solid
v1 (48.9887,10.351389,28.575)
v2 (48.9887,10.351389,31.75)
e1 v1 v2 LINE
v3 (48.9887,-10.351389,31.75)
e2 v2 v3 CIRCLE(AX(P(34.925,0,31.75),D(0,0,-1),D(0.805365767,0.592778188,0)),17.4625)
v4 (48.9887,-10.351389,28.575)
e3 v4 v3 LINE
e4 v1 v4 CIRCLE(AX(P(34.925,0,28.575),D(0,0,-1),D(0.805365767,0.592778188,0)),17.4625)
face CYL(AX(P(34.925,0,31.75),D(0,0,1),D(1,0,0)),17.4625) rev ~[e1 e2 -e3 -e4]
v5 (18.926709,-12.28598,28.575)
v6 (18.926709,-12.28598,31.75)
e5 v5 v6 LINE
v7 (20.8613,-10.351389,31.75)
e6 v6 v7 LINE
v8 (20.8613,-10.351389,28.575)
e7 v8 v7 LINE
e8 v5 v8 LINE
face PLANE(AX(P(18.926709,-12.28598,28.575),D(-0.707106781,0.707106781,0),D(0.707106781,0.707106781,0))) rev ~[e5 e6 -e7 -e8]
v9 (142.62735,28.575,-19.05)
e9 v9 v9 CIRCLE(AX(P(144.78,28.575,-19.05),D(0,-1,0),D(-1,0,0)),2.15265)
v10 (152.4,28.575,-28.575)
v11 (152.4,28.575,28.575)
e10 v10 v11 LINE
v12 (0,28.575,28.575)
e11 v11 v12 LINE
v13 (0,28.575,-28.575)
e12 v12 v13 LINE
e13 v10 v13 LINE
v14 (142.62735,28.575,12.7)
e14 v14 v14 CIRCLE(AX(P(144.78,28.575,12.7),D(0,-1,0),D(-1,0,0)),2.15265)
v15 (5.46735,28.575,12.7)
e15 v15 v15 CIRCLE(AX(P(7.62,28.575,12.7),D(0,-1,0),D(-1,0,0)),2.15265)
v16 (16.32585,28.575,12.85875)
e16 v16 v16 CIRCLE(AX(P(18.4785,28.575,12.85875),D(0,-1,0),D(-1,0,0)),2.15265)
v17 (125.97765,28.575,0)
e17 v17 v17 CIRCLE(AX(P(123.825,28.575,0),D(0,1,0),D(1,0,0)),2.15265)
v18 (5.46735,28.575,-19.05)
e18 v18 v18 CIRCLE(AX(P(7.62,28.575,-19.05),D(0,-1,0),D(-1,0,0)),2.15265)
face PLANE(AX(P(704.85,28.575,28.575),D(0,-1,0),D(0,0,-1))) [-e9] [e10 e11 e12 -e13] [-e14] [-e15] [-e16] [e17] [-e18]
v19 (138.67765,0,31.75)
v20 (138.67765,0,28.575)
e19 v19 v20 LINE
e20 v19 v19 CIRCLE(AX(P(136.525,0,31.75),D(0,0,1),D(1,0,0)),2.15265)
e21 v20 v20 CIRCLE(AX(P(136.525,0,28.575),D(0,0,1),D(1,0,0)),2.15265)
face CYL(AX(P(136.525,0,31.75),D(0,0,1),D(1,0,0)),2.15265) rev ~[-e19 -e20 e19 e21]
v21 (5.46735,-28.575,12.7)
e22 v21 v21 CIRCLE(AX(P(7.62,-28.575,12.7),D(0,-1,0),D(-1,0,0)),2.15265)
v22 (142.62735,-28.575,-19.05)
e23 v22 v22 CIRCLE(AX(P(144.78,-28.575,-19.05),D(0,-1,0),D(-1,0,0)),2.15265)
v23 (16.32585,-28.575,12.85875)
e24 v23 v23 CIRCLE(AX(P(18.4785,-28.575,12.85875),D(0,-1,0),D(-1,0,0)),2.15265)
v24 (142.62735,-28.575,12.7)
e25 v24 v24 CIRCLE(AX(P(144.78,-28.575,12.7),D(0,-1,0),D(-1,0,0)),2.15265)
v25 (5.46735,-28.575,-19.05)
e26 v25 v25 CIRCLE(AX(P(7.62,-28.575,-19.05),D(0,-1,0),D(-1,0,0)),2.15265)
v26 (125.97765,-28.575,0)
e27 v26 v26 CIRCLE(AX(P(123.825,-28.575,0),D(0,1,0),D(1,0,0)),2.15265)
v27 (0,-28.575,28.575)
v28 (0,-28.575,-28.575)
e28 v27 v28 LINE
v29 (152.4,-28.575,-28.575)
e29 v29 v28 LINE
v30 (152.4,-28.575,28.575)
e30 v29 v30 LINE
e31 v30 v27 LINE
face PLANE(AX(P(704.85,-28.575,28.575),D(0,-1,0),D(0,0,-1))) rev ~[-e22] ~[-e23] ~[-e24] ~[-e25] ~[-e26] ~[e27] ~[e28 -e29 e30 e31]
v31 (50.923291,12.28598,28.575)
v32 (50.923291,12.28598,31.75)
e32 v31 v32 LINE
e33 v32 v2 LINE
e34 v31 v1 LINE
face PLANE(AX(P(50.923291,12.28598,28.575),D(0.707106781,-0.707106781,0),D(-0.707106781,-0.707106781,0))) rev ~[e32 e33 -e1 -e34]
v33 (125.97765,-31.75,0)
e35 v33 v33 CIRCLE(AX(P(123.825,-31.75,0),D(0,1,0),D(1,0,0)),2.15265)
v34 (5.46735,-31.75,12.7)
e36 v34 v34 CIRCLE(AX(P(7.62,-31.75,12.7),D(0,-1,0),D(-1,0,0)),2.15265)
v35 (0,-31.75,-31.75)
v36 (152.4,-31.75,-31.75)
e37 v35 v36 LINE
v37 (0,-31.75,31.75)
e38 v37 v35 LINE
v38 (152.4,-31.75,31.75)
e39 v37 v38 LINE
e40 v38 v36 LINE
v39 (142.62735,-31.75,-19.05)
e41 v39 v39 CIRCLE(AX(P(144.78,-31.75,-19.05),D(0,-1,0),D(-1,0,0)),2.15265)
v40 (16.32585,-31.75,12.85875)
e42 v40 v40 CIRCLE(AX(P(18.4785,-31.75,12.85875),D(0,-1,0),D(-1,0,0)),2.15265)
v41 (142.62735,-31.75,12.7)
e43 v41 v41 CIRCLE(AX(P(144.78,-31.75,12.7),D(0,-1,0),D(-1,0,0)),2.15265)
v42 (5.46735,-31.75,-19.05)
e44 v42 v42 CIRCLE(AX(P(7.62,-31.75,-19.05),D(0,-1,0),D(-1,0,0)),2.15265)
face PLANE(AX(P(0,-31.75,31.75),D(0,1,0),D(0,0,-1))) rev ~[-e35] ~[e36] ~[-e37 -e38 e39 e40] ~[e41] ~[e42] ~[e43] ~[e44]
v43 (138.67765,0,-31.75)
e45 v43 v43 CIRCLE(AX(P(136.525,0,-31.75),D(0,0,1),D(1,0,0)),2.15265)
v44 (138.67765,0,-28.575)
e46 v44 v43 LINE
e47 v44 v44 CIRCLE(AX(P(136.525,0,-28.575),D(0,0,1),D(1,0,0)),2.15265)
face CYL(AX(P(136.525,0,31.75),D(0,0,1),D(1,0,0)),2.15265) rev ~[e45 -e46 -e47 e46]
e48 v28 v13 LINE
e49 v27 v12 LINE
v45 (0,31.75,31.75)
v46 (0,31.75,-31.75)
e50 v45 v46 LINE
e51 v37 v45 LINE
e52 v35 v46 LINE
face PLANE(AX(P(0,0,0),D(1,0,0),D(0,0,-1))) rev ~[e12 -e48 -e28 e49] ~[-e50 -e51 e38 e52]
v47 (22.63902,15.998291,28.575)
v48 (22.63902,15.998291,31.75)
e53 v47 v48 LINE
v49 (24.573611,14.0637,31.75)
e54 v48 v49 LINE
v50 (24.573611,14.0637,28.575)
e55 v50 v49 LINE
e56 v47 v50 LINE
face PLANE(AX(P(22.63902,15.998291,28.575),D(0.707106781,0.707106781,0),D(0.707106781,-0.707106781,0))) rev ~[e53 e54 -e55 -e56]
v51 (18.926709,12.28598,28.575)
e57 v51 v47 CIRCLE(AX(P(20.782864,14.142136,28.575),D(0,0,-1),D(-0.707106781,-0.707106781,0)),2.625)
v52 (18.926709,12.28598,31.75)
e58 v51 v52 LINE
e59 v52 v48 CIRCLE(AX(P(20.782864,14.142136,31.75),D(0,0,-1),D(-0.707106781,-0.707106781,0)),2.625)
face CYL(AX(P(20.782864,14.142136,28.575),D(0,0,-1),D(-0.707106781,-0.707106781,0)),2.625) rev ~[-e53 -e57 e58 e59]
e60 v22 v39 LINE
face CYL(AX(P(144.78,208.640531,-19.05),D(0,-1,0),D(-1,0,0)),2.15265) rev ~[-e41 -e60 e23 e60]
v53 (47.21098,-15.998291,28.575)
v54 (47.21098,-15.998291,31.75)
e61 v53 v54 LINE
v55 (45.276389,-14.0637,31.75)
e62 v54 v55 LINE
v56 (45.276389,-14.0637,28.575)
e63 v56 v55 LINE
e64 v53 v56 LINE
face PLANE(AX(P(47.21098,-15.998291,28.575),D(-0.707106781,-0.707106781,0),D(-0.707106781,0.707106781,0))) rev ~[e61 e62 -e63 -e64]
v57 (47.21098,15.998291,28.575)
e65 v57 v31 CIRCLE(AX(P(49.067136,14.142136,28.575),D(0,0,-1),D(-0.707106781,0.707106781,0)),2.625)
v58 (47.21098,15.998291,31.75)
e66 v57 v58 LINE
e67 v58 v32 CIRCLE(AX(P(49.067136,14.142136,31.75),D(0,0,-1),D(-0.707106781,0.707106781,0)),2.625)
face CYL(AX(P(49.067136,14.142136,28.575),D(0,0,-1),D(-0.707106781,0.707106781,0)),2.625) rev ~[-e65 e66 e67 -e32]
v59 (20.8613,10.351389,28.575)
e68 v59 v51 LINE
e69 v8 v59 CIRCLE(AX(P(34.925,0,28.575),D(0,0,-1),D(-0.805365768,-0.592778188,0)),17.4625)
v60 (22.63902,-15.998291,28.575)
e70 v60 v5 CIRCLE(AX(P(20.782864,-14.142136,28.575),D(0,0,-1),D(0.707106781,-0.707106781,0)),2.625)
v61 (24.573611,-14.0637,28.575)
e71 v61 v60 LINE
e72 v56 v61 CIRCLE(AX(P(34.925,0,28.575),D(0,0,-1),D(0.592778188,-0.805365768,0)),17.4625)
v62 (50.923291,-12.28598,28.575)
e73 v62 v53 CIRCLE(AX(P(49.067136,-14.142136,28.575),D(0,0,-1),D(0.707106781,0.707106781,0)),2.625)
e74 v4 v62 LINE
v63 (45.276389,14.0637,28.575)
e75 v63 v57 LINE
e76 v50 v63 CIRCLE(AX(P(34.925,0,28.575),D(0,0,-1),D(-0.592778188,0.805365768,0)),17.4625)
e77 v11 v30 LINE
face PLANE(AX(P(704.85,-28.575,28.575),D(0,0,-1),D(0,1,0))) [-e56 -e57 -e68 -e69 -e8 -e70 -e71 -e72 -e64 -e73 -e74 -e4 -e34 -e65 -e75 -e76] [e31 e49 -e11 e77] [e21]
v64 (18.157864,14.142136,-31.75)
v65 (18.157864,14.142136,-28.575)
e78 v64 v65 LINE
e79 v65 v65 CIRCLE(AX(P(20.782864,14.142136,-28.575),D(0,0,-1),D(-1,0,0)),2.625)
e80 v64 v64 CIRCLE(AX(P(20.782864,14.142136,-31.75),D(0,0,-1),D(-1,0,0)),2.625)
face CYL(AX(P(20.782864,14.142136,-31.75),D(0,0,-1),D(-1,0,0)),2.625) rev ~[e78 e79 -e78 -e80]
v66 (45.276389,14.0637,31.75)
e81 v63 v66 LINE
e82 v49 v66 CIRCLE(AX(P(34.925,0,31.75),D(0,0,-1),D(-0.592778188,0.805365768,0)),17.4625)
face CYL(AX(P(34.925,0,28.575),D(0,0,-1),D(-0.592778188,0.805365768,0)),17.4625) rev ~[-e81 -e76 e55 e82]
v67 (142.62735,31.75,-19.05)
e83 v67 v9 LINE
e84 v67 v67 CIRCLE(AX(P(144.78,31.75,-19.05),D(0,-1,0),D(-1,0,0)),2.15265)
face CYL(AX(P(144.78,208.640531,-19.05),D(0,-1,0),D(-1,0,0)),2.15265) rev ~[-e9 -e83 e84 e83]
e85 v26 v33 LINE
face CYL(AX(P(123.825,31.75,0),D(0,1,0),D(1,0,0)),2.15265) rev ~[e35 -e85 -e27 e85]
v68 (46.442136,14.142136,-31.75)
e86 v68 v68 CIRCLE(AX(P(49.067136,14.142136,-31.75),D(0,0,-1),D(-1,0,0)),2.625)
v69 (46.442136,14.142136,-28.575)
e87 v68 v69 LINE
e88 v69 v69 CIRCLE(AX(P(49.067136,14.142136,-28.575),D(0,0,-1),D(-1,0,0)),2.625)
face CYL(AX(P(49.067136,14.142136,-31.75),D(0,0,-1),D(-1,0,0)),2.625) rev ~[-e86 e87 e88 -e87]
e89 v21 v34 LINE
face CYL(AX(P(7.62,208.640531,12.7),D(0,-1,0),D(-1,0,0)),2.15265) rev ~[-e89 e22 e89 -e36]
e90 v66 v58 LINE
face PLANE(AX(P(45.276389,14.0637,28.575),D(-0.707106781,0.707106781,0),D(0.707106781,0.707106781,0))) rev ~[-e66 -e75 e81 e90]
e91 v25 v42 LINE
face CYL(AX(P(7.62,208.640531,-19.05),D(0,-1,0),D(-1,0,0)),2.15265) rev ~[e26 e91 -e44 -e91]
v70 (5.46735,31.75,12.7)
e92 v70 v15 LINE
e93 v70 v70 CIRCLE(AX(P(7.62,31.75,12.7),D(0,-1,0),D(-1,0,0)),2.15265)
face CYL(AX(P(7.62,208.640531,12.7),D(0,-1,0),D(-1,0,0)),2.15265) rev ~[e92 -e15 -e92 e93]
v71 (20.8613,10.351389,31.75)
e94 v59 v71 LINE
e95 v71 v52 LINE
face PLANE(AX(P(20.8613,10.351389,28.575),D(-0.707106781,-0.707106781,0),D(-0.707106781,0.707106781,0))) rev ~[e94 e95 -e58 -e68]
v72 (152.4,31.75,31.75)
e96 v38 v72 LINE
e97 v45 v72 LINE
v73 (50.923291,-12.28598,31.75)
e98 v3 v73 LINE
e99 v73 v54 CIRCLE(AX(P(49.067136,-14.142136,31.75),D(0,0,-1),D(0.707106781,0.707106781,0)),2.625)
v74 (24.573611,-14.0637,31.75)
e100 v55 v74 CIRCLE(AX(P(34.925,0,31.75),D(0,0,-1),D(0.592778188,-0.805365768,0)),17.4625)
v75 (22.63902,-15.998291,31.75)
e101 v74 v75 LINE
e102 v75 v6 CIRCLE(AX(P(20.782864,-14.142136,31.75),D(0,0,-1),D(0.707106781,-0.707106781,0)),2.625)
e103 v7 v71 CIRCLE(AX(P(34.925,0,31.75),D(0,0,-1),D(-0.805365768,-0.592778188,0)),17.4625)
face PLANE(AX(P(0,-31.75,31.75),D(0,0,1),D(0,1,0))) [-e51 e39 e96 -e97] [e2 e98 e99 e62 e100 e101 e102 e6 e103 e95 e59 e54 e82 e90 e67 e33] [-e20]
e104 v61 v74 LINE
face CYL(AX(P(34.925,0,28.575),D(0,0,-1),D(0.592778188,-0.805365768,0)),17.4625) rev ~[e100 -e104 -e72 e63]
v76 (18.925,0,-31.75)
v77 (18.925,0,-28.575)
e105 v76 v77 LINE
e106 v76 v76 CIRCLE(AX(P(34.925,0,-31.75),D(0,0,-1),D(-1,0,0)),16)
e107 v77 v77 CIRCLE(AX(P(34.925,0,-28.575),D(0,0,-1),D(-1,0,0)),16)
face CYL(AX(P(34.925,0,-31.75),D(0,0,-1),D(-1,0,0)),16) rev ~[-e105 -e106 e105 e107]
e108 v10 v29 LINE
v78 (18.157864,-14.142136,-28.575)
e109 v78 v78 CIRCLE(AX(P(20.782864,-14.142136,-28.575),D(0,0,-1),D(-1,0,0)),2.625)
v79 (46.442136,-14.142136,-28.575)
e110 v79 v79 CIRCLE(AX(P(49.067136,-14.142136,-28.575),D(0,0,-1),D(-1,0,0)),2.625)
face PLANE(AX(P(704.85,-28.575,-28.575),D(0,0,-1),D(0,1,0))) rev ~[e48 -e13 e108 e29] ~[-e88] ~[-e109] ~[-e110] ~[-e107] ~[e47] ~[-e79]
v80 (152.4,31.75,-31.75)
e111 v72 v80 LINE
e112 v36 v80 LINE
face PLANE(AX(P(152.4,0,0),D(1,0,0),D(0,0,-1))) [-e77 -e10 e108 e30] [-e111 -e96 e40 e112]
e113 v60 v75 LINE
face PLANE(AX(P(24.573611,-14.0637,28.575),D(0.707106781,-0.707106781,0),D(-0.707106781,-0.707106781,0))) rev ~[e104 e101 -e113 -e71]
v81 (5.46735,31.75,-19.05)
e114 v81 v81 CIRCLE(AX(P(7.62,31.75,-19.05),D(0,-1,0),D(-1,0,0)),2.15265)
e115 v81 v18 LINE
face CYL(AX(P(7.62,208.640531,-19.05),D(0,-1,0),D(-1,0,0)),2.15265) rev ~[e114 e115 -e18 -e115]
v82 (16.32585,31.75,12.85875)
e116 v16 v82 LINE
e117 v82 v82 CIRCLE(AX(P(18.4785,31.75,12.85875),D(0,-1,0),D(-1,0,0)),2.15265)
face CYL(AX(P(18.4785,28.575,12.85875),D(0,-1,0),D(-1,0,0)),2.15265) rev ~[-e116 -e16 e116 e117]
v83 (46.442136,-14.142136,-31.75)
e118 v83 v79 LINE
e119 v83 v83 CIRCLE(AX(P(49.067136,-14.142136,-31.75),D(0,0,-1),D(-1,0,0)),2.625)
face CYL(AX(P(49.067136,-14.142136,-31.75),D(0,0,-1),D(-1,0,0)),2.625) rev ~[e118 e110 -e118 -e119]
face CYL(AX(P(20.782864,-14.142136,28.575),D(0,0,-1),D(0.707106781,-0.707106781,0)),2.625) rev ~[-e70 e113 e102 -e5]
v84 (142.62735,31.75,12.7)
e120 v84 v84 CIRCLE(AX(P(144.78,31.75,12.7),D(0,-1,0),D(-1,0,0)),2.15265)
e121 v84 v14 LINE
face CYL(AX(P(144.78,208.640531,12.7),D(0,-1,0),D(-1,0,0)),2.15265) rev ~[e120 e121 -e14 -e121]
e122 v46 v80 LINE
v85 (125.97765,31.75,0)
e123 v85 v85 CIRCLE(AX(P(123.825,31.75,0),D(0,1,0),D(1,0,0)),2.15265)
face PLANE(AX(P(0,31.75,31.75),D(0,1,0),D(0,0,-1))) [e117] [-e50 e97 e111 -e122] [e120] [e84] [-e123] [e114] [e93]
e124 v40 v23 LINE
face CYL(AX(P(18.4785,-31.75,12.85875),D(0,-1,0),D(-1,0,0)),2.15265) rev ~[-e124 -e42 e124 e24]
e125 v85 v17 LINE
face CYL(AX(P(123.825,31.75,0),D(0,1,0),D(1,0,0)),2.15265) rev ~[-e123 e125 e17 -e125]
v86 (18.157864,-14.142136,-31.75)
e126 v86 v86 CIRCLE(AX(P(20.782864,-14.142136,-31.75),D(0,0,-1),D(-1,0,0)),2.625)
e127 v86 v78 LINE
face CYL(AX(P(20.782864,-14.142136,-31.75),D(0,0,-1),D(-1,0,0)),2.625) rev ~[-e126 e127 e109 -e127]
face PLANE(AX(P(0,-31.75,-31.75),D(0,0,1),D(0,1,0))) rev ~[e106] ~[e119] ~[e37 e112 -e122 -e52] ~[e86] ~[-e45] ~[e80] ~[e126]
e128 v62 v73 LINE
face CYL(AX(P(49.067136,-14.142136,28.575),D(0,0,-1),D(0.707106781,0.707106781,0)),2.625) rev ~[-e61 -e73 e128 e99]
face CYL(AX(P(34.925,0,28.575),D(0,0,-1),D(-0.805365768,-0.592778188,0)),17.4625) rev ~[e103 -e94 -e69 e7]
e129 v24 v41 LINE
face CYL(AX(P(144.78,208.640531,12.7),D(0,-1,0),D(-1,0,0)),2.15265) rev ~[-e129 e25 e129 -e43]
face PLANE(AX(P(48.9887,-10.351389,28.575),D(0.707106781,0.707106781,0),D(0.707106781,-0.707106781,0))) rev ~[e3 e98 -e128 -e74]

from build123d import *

# Parameters (mm, degrees)
SKETCH1_W             = 63.5
SKETCH1_H             = 63.5
BOSS_EXTRUDE1_DEPTH   = 704.85
SKETCH2_W             = 57.15
SKETCH2_H             = 57.15
CUT_EXTRUDE1_DEPTH    = 705.85
CUT_EXTRUDE2_REACH    = 65.5
SKETCH3_R             = 17.4625
SKETCH8_R             = 2.15265
CUT_EXTRUDE6_DEPTH    = 64.5
SKETCH10_R            = 2.15265
CUT_EXTRUDE7_DEPTH    = 64.5
CUT_EXTRUDE9_REACH    = 65.5
SKETCH13_R            = 16
SKETCH14_R            = 2.625
SKETCH14_R_2          = 16
CUT_EXTRUDE10_DEPTH   = 3.175
CUT_EXTRUDE11_START   = -3.175
CUT_EXTRUDE11_DEPTH   = 3.175
CUT_EXTRUDE13_REACH   = 65.5
SKETCH17_W            = 19.05
SKETCH17_H            = 25.4
SKETCH18_W            = 63.5
SKETCH18_H            = 63.5
CUT_EXTRUDE14_DEPTH   = 552.45
F_8_CLEARANCE_HOLE1_D = 4.3053
SKETCH21_R            = 2.15265
CUT_EXTRUDE15_DEPTH   = 6.35
SKETCH23_R            = 2.15265
CUT_EXTRUDE16_DEPTH   = 13.97


with BuildPart() as part:
    # Sketch1 → Boss-Extrude1 (new body)
    with BuildSketch(Plane(origin=(0, 0, 0), x_dir=(0, 0, -1), z_dir=(1, 0, 0))):
        Rectangle(SKETCH1_W, SKETCH1_H)
    extrude(amount=BOSS_EXTRUDE1_DEPTH)

    # Sketch2 → Cut-Extrude1 (cut, through all)
    with BuildSketch(Plane(origin=(704.85, 0, 0), x_dir=(0, 0, -1), z_dir=(1, 0, 0))):
        Rectangle(SKETCH2_W, SKETCH2_H)
    extrude(amount=-CUT_EXTRUDE1_DEPTH, mode=Mode.SUBTRACT)

    # Sketch3 → Cut-Extrude2 (cut, up to next)
    with BuildSketch(Plane.XY.offset(31.75), mode=Mode.PRIVATE) as cut_extrude2_sk1:
        with Locations((352.425, 0)):
            Circle(SKETCH3_R)
    cut_extrude2_tool1 = extrude(cut_extrude2_sk1.sketch, amount=-CUT_EXTRUDE2_REACH, mode=Mode.PRIVATE) & part.part
    add(cut_extrude2_tool1.solids().sort_by_distance((352.425, 0, 31.75))[0], mode=Mode.SUBTRACT)
    # Sketch3 → Cut-Extrude2 (cut, up to next)
    with BuildSketch(Plane.XY.offset(31.75), mode=Mode.PRIVATE) as cut_extrude2_sk2:
        with Locations((34.925, 0)):
            Circle(SKETCH3_R)
    cut_extrude2_tool2 = extrude(cut_extrude2_sk2.sketch, amount=-CUT_EXTRUDE2_REACH, mode=Mode.PRIVATE) & part.part
    add(cut_extrude2_tool2.solids().sort_by_distance((34.925, 0, 31.75))[0], mode=Mode.SUBTRACT)
    # Sketch3 → Cut-Extrude2 (cut, up to next)
    with BuildSketch(Plane.XY.offset(31.75), mode=Mode.PRIVATE) as cut_extrude2_sk3:
        with Locations((669.925, 0)):
            Circle(SKETCH3_R)
    cut_extrude2_tool3 = extrude(cut_extrude2_sk3.sketch, amount=-CUT_EXTRUDE2_REACH, mode=Mode.PRIVATE) & part.part
    add(cut_extrude2_tool3.solids().sort_by_distance((669.925, 0, 31.75))[0], mode=Mode.SUBTRACT)

    # Sketch8 → Cut-Extrude6 (cut, through all)
    with BuildSketch(Plane(origin=(0, 31.75, 0), x_dir=(1, 0, 0), z_dir=(0, 1, 0))):
        with Locations((466.725, 0)):
            Circle(SKETCH8_R)
        with Locations((123.825, 0)):
            Circle(SKETCH8_R)
        with Locations((581.025, 0)):
            Circle(SKETCH8_R)
        with Locations((238.125, 0)):
            Circle(SKETCH8_R)
    extrude(amount=-CUT_EXTRUDE6_DEPTH, mode=Mode.SUBTRACT)

    # Sketch10 → Cut-Extrude7 (cut, through all)
    with BuildSketch(Plane.XY.offset(31.75)):
        with Locations((225.425, 0)):
            Circle(SKETCH10_R)
        with Locations((568.325, 0)):
            Circle(SKETCH10_R)
        with Locations((136.525, 0)):
            Circle(SKETCH10_R)
        with Locations((479.425, 0)):
            Circle(SKETCH10_R)
    extrude(amount=-CUT_EXTRUDE7_DEPTH, mode=Mode.SUBTRACT)

    # Sketch13 → Cut-Extrude9 (cut, up to next)
    with BuildSketch(Plane(origin=(0, 0, -31.75), x_dir=(-1, 0, 0), z_dir=(0, 0, -1)), mode=Mode.PRIVATE) as cut_extrude9_sk1:
        with Locations((-352.425, 0)):
            Circle(SKETCH13_R)
    cut_extrude9_tool1 = extrude(cut_extrude9_sk1.sketch, amount=-CUT_EXTRUDE9_REACH, mode=Mode.PRIVATE) & part.part
    add(cut_extrude9_tool1.solids().sort_by_distance((352.425, 0, -31.75))[0], mode=Mode.SUBTRACT)
    # Sketch13 → Cut-Extrude9 (cut, up to next)
    with BuildSketch(Plane(origin=(0, 0, -31.75), x_dir=(-1, 0, 0), z_dir=(0, 0, -1)), mode=Mode.PRIVATE) as cut_extrude9_sk2:
        with Locations((-34.925, 0)):
            Circle(SKETCH13_R)
    cut_extrude9_tool2 = extrude(cut_extrude9_sk2.sketch, amount=-CUT_EXTRUDE9_REACH, mode=Mode.PRIVATE) & part.part
    add(cut_extrude9_tool2.solids().sort_by_distance((34.925, 0, -31.75))[0], mode=Mode.SUBTRACT)
    # Sketch13 → Cut-Extrude9 (cut, up to next)
    with BuildSketch(Plane(origin=(0, 0, -31.75), x_dir=(-1, 0, 0), z_dir=(0, 0, -1)), mode=Mode.PRIVATE) as cut_extrude9_sk3:
        with Locations((-669.925, 0)):
            Circle(SKETCH13_R)
    cut_extrude9_tool3 = extrude(cut_extrude9_sk3.sketch, amount=-CUT_EXTRUDE9_REACH, mode=Mode.PRIVATE) & part.part
    add(cut_extrude9_tool3.solids().sort_by_distance((669.925, 0, -31.75))[0], mode=Mode.SUBTRACT)

    # Sketch14 → Cut-Extrude10 (cut)
    with BuildSketch(Plane(origin=(0, 0, -31.75), x_dir=(-1, 0, 0), z_dir=(0, 0, -1))):
        with Locations((-655.782864376, 14.142135624)):
            Circle(SKETCH14_R)
        with Locations((-338.282864376, 14.142135624)):
            Circle(SKETCH14_R)
        with Locations((-20.782864376, 14.142135624)):
            Circle(SKETCH14_R)
        with Locations((-352.425, 0)):
            Circle(SKETCH14_R_2)
        with Locations((-34.925, 0)):
            Circle(SKETCH14_R_2)
        with Locations((-669.925, 0)):
            Circle(SKETCH14_R_2)
        with Locations((-338.282864376, -14.142135624)):
            Circle(SKETCH14_R)
        with Locations((-366.567135624, -14.142135624)):
            Circle(SKETCH14_R)
        with Locations((-366.567135624, 14.142135624)):
            Circle(SKETCH14_R)
        with Locations((-20.782864376, -14.142135624)):
            Circle(SKETCH14_R)
        with Locations((-49.067135624, -14.142135624)):
            Circle(SKETCH14_R)
        with Locations((-49.067135624, 14.142135624)):
            Circle(SKETCH14_R)
        with Locations((-655.782864376, -14.142135624)):
            Circle(SKETCH14_R)
        with Locations((-684.067135624, -14.142135624)):
            Circle(SKETCH14_R)
        with Locations((-684.067135624, 14.142135624)):
            Circle(SKETCH14_R)
    extrude(amount=-CUT_EXTRUDE10_DEPTH, mode=Mode.SUBTRACT)

    # Sketch15 → Cut-Extrude11 (cut)
    with BuildSketch(Plane.XY.offset(31.75).offset(CUT_EXTRUDE11_START)):
        with BuildLine():
            Line((364.710980323, -15.998290924), (362.776389114, -14.063699715))
            ThreePointArc((362.776389114, -14.063699715), (352.425, -17.4625), (342.073610886, -14.063699715))
            Line((342.073610886, -14.063699715), (340.139019677, -15.998290924))
            ThreePointArc((340.139019677, -15.998290924), (336.426709076, -15.998290924), (336.426709076, -12.285980323))
            Line((336.426709076, -12.285980323), (338.361300285, -10.351389114))
            ThreePointArc((338.361300285, -10.351389114), (334.9625, 0), (338.361300285, 10.351389114))
            Line((338.361300285, 10.351389114), (336.426709076, 12.285980323))
            ThreePointArc((336.426709076, 12.285980323), (336.426709076, 15.998290924), (340.139019677, 15.998290924))
            Line((340.139019677, 15.998290924), (342.073610886, 14.063699715))
            ThreePointArc((342.073610886, 14.063699715), (352.425, 17.4625), (362.776389114, 14.063699715))
            Line((362.776389114, 14.063699715), (364.710980323, 15.998290924))
            ThreePointArc((364.710980323, 15.998290924), (368.423290924, 15.998290924), (368.423290924, 12.285980323))
            Line((368.423290924, 12.285980323), (366.488699715, 10.351389114))
            ThreePointArc((366.488699715, 10.351389114), (369.8875, 0), (366.488699715, -10.351389114))
            Line((366.488699715, -10.351389114), (368.423290924, -12.285980323))
            ThreePointArc((368.423290924, -12.285980323), (368.423290924, -15.998290924), (364.710980323, -15.998290924))
        make_face()
        with BuildLine():
            Line((50.923290924, 12.285980323), (48.988699715, 10.351389114))
            ThreePointArc((48.988699715, 10.351389114), (52.3875, 0), (48.988699715, -10.351389114))
            Line((48.988699715, -10.351389114), (50.923290924, -12.285980323))
            ThreePointArc((50.923290924, -12.285980323), (50.923290924, -15.998290924), (47.210980323, -15.998290924))
            Line((47.210980323, -15.998290924), (45.276389114, -14.063699715))
            ThreePointArc((45.276389114, -14.063699715), (34.925, -17.4625), (24.573610886, -14.063699715))
            Line((24.573610886, -14.063699715), (22.639019677, -15.998290924))
            ThreePointArc((22.639019677, -15.998290924), (18.926709076, -15.998290924), (18.926709076, -12.285980323))
            Line((18.926709076, -12.285980323), (20.861300285, -10.351389114))
            ThreePointArc((20.861300285, -10.351389114), (17.4625, 0), (20.861300285, 10.351389114))
            Line((20.861300285, 10.351389114), (18.926709076, 12.285980323))
            ThreePointArc((18.926709076, 12.285980323), (18.926709076, 15.998290924), (22.639019677, 15.998290924))
            Line((22.639019677, 15.998290924), (24.573610886, 14.063699715))
            ThreePointArc((24.573610886, 14.063699715), (34.925, 17.4625), (45.276389114, 14.063699715))
            Line((45.276389114, 14.063699715), (47.210980323, 15.998290924))
            ThreePointArc((47.210980323, 15.998290924), (50.923290924, 15.998290924), (50.923290924, 12.285980323))
        make_face()
        with BuildLine():
            Line((685.923290924, 12.285980323), (683.988699715, 10.351389114))
            ThreePointArc((683.988699715, 10.351389114), (687.3875, 0), (683.988699715, -10.351389114))
            Line((683.988699715, -10.351389114), (685.923290924, -12.285980323))
            ThreePointArc((685.923290924, -12.285980323), (685.923290924, -15.998290924), (682.210980323, -15.998290924))
            Line((682.210980323, -15.998290924), (680.276389114, -14.063699715))
            ThreePointArc((680.276389114, -14.063699715), (669.925, -17.4625), (659.573610886, -14.063699715))
            Line((659.573610886, -14.063699715), (657.639019677, -15.998290924))
            ThreePointArc((657.639019677, -15.998290924), (653.926709076, -15.998290924), (653.926709076, -12.285980323))
            Line((653.926709076, -12.285980323), (655.861300285, -10.351389114))
            ThreePointArc((655.861300285, -10.351389114), (652.4625, 0), (655.861300285, 10.351389114))
            Line((655.861300285, 10.351389114), (653.926709076, 12.285980323))
            ThreePointArc((653.926709076, 12.285980323), (653.926709076, 15.998290924), (657.639019677, 15.998290924))
            Line((657.639019677, 15.998290924), (659.573610886, 14.063699715))
            ThreePointArc((659.573610886, 14.063699715), (669.925, 17.4625), (680.276389114, 14.063699715))
            Line((680.276389114, 14.063699715), (682.210980323, 15.998290924))
            ThreePointArc((682.210980323, 15.998290924), (685.923290924, 15.998290924), (685.923290924, 12.285980323))
        make_face()
    extrude(amount=CUT_EXTRUDE11_DEPTH, mode=Mode.SUBTRACT)

    # Sketch17 → Cut-Extrude13 (cut, up to next)
    with BuildSketch(Plane.XZ.offset(31.75), mode=Mode.PRIVATE) as cut_extrude13_sk1:
        with Locations((352.425, -12.7)):
            Rectangle(SKETCH17_W, SKETCH17_H)
    cut_extrude13_tool1 = extrude(cut_extrude13_sk1.sketch, amount=-CUT_EXTRUDE13_REACH, mode=Mode.PRIVATE) & part.part
    add(cut_extrude13_tool1.solids().sort_by_distance((352.425, -31.75, -12.7))[0], mode=Mode.SUBTRACT)

    # Sketch18 → Cut-Extrude14 (cut)
    with BuildSketch(Plane(origin=(704.85, 0, 0), x_dir=(0, 0, -1), z_dir=(1, 0, 0))):
        Rectangle(SKETCH18_W, SKETCH18_H)
    extrude(amount=-CUT_EXTRUDE14_DEPTH, mode=Mode.SUBTRACT)

    # #8 Clearance Hole1 (through all)
    with Locations(Plane(origin=(0, 31.75, 0), x_dir=(1, 0, 0), z_dir=(0, 1, 0))):
        with Locations((7.62, 19.05), (7.62, -12.7), (144.78, -12.7), (144.78, 19.05)):
            Hole(F_8_CLEARANCE_HOLE1_D / 2)

    # Sketch21 → Cut-Extrude15 (cut)
    with BuildSketch(Plane(origin=(0, -31.75, 0), x_dir=(-1, 0, 0), z_dir=(0, -1, 0))):
        with Locations((-18.4785, -12.85875)):
            Circle(SKETCH21_R)
    extrude(amount=-CUT_EXTRUDE15_DEPTH, mode=Mode.SUBTRACT)

    # Sketch23 → Cut-Extrude16 (cut)
    with BuildSketch(Plane(origin=(0, 28.575, 0), x_dir=(-1, 0, 0), z_dir=(0, -1, 0))):
        with Locations((-18.4785, -12.85875)):
            Circle(SKETCH23_R)
    extrude(amount=-CUT_EXTRUDE16_DEPTH, mode=Mode.SUBTRACT)


solid = part.part
